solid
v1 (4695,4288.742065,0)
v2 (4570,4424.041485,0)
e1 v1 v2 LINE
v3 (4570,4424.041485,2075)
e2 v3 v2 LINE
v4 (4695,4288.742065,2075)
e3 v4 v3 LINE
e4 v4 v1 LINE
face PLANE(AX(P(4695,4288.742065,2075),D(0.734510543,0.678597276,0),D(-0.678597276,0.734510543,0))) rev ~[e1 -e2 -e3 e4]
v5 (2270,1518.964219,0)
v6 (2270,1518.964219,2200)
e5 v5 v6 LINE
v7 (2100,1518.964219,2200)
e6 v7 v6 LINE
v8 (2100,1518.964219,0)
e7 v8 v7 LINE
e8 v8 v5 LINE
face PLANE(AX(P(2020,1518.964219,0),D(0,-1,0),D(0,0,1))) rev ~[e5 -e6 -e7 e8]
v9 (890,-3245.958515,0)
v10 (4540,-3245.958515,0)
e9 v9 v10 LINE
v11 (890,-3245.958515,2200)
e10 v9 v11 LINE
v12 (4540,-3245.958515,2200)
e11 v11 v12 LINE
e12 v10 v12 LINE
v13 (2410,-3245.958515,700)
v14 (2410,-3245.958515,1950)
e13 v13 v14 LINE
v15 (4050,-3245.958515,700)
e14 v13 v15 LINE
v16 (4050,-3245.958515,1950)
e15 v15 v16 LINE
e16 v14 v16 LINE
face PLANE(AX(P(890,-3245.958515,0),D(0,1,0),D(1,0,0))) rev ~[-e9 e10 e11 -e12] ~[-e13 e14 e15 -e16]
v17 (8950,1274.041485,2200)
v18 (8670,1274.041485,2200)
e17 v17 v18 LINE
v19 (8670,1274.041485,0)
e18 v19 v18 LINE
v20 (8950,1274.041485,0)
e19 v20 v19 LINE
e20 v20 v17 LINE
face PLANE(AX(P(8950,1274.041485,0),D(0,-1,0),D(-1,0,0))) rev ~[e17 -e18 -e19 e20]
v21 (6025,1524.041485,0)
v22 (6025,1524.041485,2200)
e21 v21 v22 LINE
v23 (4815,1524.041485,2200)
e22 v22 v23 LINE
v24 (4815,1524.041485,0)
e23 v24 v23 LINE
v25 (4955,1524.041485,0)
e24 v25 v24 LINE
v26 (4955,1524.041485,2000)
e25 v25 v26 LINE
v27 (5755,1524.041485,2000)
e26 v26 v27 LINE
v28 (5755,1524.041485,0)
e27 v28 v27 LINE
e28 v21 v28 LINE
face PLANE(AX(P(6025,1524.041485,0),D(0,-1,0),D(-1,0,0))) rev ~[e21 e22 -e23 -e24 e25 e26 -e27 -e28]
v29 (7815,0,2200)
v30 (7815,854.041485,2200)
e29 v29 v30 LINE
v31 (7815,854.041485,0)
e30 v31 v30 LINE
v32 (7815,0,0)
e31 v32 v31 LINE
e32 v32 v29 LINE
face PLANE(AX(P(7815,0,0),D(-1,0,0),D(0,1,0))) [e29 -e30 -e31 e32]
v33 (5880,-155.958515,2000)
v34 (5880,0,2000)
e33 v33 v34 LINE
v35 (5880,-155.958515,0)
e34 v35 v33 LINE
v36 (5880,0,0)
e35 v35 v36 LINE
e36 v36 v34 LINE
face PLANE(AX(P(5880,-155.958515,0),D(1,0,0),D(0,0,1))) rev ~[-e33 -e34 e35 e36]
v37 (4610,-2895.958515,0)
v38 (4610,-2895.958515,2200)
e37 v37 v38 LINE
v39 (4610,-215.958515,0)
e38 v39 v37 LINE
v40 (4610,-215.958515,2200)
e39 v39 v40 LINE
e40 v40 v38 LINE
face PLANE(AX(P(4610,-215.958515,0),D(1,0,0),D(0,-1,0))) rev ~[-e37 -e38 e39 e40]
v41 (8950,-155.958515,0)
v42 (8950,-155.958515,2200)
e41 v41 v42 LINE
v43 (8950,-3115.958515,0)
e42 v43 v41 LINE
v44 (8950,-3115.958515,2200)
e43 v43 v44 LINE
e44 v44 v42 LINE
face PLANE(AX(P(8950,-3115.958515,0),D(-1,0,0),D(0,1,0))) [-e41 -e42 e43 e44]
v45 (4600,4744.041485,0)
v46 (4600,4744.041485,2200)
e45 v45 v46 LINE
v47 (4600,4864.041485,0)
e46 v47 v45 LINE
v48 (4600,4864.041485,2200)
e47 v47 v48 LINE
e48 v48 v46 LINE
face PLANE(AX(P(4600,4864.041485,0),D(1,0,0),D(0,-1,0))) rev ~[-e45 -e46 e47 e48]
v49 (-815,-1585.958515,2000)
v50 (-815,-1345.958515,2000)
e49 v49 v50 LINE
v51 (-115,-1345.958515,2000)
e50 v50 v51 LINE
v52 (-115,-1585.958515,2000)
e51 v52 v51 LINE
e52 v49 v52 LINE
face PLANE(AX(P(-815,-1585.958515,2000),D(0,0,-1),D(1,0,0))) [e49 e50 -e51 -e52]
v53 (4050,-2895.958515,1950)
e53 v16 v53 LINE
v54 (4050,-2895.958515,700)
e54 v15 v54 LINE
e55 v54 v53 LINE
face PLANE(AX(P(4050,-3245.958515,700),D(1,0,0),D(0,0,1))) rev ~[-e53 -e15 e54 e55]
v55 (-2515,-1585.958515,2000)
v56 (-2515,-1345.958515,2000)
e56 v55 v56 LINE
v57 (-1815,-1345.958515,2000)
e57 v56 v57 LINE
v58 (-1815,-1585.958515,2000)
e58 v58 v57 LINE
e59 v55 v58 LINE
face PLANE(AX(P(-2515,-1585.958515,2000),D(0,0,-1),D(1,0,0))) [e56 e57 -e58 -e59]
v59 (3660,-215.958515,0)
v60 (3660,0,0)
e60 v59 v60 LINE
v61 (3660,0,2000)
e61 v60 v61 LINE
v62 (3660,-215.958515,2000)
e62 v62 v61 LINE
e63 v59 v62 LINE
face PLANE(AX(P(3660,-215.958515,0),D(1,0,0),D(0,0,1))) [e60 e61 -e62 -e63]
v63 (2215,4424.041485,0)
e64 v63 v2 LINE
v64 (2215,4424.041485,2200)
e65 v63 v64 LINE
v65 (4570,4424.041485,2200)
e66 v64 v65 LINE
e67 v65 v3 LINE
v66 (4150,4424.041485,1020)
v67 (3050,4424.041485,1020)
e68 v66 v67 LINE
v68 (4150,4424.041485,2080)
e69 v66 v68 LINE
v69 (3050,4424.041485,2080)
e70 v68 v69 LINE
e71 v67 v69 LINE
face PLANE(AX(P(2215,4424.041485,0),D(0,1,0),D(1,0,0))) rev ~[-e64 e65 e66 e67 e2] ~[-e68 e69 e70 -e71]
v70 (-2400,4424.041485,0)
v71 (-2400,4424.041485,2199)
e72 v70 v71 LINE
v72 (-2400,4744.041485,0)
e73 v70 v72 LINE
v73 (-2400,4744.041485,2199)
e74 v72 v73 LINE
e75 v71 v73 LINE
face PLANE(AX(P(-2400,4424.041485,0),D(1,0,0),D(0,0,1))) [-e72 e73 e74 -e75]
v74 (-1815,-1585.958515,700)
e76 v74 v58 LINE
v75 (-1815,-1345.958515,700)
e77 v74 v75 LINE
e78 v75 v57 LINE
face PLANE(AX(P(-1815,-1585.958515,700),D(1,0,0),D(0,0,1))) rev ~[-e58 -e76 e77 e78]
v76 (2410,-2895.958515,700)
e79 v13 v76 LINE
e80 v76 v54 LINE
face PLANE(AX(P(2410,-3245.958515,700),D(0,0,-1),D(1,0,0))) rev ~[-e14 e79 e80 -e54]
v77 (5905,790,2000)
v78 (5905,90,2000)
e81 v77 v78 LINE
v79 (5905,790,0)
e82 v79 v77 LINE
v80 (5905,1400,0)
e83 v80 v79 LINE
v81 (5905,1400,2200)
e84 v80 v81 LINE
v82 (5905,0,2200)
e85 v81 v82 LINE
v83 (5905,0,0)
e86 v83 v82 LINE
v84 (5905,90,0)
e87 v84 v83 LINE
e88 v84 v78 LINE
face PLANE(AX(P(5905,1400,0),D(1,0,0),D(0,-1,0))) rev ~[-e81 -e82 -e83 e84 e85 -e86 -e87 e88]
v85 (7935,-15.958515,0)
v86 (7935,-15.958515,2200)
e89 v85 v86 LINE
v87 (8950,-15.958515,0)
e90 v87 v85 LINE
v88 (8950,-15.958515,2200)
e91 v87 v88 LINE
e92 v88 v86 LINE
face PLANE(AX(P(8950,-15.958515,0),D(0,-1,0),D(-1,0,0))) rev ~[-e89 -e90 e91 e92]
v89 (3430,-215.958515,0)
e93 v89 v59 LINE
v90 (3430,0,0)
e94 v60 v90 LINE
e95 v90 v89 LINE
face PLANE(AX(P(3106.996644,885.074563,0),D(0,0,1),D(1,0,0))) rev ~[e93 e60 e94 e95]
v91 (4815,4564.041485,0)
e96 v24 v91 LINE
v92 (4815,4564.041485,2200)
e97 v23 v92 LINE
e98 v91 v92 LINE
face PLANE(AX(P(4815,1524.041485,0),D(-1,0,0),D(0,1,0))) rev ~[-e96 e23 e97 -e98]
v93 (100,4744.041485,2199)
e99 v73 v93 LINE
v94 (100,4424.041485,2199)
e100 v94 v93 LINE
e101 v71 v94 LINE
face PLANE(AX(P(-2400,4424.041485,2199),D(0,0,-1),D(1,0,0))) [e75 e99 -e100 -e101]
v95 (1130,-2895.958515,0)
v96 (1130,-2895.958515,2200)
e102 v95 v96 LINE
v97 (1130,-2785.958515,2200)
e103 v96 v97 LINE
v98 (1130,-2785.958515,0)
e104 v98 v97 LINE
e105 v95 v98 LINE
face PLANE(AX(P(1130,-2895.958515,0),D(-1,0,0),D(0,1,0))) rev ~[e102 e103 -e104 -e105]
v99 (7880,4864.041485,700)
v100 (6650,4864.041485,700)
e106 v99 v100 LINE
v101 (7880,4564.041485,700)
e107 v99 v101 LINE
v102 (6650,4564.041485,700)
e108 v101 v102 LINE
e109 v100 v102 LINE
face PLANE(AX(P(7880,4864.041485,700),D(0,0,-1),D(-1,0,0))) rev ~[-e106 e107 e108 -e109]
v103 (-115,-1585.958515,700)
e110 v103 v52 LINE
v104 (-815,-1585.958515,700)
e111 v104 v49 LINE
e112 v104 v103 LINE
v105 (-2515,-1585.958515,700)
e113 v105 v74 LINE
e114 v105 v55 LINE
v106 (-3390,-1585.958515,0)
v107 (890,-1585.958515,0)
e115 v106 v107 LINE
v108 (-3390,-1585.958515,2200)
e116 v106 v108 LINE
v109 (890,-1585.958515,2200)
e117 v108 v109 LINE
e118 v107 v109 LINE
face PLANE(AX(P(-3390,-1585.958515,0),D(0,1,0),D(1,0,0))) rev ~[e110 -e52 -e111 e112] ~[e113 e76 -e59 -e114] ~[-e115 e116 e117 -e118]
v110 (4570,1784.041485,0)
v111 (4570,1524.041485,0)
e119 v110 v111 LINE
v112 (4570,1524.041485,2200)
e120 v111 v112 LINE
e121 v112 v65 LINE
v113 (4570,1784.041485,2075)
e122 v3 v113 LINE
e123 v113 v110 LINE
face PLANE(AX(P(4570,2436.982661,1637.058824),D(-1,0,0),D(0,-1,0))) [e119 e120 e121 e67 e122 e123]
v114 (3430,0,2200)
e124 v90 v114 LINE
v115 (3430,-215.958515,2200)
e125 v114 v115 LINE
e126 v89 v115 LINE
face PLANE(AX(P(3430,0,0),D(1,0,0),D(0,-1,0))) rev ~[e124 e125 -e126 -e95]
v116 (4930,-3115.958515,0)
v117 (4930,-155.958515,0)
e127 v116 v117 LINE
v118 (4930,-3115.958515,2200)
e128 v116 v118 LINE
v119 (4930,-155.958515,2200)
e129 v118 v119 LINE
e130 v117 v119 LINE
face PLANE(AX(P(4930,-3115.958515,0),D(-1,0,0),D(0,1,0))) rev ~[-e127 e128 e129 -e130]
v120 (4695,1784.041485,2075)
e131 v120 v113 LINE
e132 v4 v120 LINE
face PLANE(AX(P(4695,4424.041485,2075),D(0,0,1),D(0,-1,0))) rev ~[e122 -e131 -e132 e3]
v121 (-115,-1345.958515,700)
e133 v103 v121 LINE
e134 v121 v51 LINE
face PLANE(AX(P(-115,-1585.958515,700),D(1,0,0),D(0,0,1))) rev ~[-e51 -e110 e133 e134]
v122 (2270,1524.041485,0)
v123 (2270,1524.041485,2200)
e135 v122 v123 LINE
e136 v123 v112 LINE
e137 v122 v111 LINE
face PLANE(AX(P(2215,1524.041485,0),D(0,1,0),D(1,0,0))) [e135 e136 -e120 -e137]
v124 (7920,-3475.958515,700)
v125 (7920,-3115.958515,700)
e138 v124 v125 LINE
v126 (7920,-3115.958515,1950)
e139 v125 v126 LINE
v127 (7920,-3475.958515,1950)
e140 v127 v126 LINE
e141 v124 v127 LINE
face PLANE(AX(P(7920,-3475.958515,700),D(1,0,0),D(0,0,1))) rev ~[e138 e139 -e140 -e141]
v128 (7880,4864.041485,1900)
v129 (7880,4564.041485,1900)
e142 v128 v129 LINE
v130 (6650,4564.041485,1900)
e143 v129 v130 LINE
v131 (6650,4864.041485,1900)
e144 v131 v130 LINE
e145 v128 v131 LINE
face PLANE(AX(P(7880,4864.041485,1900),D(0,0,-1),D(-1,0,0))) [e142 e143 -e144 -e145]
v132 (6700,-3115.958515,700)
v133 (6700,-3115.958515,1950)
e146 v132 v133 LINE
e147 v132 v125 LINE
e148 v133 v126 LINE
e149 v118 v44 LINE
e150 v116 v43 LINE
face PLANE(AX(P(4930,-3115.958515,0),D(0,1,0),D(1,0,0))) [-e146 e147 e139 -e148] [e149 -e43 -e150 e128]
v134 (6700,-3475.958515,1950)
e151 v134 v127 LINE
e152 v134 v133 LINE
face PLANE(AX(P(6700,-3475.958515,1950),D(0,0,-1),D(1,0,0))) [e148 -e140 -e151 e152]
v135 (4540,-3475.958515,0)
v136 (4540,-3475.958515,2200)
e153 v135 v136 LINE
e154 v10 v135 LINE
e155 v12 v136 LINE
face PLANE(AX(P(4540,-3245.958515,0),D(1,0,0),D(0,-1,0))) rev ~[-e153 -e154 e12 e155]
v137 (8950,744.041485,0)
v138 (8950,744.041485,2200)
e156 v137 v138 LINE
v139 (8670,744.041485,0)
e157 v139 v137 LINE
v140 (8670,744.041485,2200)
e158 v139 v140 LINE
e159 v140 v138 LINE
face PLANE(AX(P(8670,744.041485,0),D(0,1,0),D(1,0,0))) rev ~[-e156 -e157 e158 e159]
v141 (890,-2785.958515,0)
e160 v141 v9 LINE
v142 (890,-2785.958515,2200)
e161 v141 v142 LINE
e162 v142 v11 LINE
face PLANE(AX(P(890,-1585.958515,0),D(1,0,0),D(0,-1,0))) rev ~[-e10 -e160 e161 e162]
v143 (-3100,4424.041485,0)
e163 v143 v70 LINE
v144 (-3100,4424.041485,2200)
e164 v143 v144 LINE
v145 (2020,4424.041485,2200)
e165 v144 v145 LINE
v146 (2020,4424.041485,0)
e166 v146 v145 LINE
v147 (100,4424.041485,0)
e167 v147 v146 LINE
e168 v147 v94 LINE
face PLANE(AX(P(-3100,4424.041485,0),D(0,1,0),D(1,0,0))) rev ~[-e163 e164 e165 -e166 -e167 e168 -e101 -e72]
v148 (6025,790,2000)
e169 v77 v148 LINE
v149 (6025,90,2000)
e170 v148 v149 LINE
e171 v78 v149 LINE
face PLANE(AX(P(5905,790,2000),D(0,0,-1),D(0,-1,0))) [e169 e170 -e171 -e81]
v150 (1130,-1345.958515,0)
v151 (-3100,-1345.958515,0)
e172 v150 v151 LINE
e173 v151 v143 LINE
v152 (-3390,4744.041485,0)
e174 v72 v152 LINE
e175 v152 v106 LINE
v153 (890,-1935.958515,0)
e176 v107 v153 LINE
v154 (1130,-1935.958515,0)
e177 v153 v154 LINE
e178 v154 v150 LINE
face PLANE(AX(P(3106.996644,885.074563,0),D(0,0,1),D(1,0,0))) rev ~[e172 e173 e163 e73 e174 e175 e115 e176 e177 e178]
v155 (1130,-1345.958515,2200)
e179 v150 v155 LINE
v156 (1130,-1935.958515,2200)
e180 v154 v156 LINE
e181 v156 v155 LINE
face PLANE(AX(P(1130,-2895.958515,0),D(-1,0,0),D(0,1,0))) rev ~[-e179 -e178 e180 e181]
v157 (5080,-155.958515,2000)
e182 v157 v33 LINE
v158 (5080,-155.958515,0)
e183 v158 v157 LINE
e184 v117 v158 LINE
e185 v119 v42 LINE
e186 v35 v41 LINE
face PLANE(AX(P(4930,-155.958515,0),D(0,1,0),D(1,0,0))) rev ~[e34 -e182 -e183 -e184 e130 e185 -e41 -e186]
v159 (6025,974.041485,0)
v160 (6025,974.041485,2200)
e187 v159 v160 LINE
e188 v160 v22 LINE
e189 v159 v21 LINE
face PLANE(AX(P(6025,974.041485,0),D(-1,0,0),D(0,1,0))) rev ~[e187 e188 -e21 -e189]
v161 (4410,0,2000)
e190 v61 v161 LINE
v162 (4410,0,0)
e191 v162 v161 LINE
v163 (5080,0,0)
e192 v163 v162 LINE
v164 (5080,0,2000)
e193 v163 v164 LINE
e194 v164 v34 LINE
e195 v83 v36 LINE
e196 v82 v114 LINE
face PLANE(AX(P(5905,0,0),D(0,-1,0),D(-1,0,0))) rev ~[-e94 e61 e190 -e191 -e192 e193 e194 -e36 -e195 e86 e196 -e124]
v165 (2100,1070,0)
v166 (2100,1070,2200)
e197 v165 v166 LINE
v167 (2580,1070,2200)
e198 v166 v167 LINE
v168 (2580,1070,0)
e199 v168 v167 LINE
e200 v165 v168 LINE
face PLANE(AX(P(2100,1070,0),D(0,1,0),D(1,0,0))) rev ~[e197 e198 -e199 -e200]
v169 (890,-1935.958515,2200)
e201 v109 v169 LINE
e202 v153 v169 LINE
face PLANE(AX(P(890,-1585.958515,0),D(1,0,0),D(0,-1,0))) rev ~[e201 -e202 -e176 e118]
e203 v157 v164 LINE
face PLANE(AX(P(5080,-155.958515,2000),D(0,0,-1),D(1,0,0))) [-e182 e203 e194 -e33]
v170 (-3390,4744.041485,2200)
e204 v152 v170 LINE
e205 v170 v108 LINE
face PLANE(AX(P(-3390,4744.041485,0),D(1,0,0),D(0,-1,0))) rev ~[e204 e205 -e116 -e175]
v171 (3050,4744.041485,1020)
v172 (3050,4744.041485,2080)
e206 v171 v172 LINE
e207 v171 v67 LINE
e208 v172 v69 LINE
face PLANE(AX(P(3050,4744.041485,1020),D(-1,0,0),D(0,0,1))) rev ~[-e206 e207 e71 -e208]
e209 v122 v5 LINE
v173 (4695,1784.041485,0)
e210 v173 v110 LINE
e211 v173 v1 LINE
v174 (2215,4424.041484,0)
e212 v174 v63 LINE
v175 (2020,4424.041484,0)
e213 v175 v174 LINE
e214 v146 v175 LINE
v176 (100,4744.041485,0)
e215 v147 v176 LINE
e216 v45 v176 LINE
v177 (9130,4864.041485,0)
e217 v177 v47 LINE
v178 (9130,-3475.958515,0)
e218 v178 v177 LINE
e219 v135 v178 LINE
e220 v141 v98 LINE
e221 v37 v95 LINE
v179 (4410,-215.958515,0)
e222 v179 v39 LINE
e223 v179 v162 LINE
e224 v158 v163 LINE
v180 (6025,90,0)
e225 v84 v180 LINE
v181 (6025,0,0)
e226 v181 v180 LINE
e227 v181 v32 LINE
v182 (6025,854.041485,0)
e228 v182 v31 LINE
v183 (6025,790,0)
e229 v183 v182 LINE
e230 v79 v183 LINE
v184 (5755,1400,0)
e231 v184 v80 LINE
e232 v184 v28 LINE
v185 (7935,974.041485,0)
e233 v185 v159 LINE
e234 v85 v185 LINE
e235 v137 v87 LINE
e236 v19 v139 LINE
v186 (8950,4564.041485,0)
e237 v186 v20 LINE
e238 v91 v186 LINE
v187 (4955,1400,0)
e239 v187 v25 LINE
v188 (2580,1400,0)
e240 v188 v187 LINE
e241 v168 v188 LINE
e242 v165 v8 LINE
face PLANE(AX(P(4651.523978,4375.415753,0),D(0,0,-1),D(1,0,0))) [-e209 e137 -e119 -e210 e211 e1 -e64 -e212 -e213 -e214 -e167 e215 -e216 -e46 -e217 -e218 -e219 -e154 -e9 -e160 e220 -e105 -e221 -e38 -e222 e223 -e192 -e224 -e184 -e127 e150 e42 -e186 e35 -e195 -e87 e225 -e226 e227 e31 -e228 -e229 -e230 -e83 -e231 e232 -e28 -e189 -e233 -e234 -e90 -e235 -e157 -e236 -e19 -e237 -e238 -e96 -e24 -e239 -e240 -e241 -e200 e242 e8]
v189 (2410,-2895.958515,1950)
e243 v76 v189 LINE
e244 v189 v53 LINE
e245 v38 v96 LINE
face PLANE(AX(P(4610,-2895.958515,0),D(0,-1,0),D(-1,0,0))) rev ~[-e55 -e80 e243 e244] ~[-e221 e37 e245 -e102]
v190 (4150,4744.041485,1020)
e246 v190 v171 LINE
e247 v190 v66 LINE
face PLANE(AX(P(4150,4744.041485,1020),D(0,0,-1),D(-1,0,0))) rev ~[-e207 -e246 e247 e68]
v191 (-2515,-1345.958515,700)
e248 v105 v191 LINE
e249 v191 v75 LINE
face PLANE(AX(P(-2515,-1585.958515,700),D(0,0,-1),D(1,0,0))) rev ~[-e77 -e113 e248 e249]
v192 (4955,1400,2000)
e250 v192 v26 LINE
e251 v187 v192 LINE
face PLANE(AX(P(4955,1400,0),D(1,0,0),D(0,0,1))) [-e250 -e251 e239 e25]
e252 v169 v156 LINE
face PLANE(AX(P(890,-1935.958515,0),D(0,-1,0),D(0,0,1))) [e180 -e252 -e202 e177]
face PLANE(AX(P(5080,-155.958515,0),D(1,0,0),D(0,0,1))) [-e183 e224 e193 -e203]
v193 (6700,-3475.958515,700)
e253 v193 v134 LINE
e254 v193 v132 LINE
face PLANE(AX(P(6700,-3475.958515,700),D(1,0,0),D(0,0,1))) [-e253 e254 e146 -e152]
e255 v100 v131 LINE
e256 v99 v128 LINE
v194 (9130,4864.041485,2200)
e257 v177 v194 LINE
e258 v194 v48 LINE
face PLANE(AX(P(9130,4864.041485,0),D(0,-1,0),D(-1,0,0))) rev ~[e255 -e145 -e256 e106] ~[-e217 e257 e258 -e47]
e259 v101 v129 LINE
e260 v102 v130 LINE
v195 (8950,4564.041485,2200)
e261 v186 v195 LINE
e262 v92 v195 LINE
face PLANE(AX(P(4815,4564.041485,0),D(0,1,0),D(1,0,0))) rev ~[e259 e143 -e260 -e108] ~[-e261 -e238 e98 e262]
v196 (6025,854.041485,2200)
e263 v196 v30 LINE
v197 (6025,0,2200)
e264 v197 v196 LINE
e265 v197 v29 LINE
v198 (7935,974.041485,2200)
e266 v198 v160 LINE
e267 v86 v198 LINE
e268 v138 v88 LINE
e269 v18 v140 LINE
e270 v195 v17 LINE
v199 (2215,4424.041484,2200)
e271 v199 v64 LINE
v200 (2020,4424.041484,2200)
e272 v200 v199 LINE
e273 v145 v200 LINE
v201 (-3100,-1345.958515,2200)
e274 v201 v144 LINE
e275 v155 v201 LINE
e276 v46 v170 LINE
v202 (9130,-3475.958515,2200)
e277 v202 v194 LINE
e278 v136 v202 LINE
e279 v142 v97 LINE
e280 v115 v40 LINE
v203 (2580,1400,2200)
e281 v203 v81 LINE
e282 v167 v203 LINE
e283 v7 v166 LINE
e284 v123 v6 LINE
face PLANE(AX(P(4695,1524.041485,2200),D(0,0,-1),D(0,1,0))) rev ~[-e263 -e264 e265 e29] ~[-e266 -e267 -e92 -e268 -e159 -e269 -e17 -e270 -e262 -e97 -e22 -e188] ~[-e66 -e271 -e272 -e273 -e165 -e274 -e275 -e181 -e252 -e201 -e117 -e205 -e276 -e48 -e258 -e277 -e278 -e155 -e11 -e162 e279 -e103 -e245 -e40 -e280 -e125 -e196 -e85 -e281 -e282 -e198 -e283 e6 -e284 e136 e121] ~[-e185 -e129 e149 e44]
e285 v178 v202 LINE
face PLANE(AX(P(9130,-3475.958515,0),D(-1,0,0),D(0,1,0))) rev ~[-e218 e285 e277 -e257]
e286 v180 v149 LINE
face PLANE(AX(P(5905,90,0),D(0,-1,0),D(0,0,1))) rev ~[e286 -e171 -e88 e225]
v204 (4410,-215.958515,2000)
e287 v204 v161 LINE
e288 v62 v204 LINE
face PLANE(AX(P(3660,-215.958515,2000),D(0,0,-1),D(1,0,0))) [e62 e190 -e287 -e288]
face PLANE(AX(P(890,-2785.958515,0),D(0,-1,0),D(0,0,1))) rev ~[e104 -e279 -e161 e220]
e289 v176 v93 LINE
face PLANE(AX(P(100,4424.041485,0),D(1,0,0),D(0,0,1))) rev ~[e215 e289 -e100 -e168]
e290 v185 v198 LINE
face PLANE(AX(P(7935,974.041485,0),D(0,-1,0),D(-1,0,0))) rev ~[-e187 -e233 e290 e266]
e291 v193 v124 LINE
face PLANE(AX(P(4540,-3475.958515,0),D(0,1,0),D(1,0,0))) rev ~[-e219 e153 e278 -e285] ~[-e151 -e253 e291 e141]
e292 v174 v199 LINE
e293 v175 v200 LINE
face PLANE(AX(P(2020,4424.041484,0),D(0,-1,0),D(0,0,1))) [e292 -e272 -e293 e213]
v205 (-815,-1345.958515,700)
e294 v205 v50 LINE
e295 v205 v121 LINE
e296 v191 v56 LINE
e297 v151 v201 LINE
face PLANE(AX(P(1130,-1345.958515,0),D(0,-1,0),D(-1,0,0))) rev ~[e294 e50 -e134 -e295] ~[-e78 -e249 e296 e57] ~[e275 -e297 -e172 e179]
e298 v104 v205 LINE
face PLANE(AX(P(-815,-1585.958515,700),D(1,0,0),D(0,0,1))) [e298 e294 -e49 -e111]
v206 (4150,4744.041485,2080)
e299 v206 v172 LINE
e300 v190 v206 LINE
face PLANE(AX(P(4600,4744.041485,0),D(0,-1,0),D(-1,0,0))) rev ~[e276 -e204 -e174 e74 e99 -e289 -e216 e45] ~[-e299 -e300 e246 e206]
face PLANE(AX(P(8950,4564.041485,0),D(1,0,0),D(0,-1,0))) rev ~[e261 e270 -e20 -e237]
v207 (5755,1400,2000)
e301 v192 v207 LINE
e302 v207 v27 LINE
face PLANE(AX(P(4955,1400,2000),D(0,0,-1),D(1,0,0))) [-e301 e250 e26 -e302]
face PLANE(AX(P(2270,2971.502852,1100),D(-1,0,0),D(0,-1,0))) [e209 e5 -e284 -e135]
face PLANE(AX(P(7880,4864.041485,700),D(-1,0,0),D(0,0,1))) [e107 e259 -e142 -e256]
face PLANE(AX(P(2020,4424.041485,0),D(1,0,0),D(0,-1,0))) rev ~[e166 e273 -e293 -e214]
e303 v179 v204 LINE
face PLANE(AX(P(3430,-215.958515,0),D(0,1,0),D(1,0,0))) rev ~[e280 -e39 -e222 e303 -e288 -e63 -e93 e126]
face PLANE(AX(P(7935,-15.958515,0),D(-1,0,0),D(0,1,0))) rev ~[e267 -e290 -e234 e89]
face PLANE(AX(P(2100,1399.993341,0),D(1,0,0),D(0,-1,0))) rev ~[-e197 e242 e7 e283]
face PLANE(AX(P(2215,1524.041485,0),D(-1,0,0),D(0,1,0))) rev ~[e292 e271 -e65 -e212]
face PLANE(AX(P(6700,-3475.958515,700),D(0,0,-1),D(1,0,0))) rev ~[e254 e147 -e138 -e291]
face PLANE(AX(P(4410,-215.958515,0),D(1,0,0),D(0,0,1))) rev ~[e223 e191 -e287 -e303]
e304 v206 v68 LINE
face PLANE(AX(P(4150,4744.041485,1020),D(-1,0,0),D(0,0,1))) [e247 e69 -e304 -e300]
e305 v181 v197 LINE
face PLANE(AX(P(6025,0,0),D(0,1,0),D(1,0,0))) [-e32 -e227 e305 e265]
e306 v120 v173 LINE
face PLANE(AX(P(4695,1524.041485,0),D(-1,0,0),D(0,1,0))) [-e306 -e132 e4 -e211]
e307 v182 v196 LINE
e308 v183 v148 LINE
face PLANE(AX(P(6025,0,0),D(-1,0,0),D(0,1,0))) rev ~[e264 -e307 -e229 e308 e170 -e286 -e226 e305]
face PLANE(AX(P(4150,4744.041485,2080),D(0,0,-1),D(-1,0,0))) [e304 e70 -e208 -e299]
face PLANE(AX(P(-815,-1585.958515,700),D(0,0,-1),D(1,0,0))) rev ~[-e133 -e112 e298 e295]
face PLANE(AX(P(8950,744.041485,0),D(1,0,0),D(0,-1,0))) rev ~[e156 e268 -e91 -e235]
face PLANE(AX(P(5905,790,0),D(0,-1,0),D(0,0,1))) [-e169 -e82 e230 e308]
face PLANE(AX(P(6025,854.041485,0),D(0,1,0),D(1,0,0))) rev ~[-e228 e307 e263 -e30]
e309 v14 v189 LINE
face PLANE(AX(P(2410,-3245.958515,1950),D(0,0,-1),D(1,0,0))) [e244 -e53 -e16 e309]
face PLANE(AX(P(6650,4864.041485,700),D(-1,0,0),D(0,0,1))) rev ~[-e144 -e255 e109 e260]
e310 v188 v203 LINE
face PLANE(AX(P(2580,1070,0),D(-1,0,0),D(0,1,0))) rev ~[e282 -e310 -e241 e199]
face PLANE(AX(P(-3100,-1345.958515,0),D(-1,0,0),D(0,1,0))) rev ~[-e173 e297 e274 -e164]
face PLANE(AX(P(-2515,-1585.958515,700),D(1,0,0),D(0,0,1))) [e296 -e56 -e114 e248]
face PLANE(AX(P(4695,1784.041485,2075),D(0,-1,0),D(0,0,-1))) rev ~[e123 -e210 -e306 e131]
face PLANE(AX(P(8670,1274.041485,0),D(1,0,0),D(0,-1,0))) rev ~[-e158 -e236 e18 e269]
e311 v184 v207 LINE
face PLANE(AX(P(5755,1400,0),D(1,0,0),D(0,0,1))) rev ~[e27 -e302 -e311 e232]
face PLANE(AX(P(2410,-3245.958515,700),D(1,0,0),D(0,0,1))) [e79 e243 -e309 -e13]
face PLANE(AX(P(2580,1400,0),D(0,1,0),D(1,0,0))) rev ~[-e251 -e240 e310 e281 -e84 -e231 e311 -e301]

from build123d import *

# Parameters (mm, degrees)
F0_W      = 4020
F0_H      = 2960
F0_W_2    = 1790
F0_H_2    = 854.041485
F0_W_3    = 2480
F0_H_3    = 2900
F1_DEPTH  = 2200
F2_W      = 2500
F2_H      = 2199
F3_DEPTH  = 350
F4_W      = 2905.077265
F4_H      = 2200
F5_DEPTH  = 250
F6_W      = 990
F6_H      = 2200
F7_DEPTH  = 130
F8_W      = 750
F8_H      = 2000
F9_DEPTH  = 250
F10_W     = 800
F10_H     = 2000
F11_DEPTH = 200
F12_W     = 800
F12_H     = 2000
F13_DEPTH = 200
F14_W     = 700
F14_H     = 1300
F15_DEPTH = 240
F16_W     = 1640
F16_H     = 1250
F17_DEPTH = 350
F18_W     = 1220
F18_H     = 1250
F19_DEPTH = 360
F20_W     = 1230
F20_H     = 1200
F21_DEPTH = 300
F22_W     = 1100
F22_H     = 1060
F23_DEPTH = 320
F24_W     = 850
F24_H     = 2200
F25_DEPTH = 240
F26_W     = 700
F26_H     = 2000
F27_DEPTH = 120
F29_DEPTH = 125
F31_DEPTH = 2075


with BuildPart() as f1:
    # F0 (on Top) → F1 (new body)
    with BuildSketch(Plane.XY):
        Polygon((-3390, -1585.958515), (890, -1585.958515), (890, -3245.958515), (4540, -3245.958515), (4540, -3475.958515), (9130, -3475.958515), (9130, 4864.041485), (4600, 4864.041485), (4600, 4744.041485), (-3390, 4744.041485), align=None)
        with Locations((6940, -1635.958515)):
            Rectangle(F0_W, F0_H, mode=Mode.SUBTRACT)
        with Locations((6920, 427.020742)):
            Rectangle(F0_W_2, F0_H_2, mode=Mode.SUBTRACT)
        Polygon((4610, -215.958515), (4610, -2895.958515), (1130, -2895.958515), (1130, -1345.958515), (-3100, -1345.958515), (-3100, 4424.041485), (2020, 4424.041485), (2020, 1518.96422), (1110, 1518.96422), (1110, 1399.993341), (2100, 1399.993341), (2100, 1070), (2580, 1070), (2580, 1400), (5905, 1400), (5905, 0), (3430, 0), (3430, -215.958515), align=None, mode=Mode.SUBTRACT)
        Polygon((4815, 1524.041485), (4815, 4564.041485), (8950, 4564.041485), (8950, 1274.041485), (8670, 1274.041485), (8670, 744.041485), (8950, 744.041485), (8950, -15.958515), (7935, -15.958515), (7935, 974.041485), (6025, 974.041485), (6025, 1524.041485), align=None, mode=Mode.SUBTRACT)
        with Locations((3455, 2974.041485)):
            Rectangle(F0_W_3, F0_H_3, mode=Mode.SUBTRACT)
    extrude(amount=F1_DEPTH)

    # F2 (on face) → F3 (cut)
    with BuildSketch(Plane.XZ.offset(-4424.041485)):
        with Locations((-1150, 1099.5)):
            Rectangle(F2_W, F2_H)
    extrude(amount=-F3_DEPTH, mode=Mode.SUBTRACT)

    # F4 (on face) → F5 (cut)
    with BuildSketch(Plane(origin=(2020, 0, 0), x_dir=(0, -1, 0), z_dir=(-1, 0, 0))):
        with Locations((-2971.502852, 1100)):
            Rectangle(F4_W, F4_H)
    extrude(amount=-F5_DEPTH, mode=Mode.SUBTRACT)

    # F6 (on face) → F7 (cut)
    with BuildSketch(Plane.XZ.offset(-1399.993341)):
        with Locations((1605, 1100)):
            Rectangle(F6_W, F6_H)
    extrude(amount=-F7_DEPTH, mode=Mode.SUBTRACT)

    # F8 (on face) → F9 (cut)
    with BuildSketch(Plane.XZ.offset(215.958515)):
        with Locations((4035, 1000)):
            Rectangle(F8_W, F8_H)
    extrude(amount=-F9_DEPTH, mode=Mode.SUBTRACT)

    # F10 (on face) → F11 (cut)
    with BuildSketch(Plane.XZ.offset(-1400)):
        with Locations((5355, 1000)):
            Rectangle(F10_W, F10_H)
    extrude(amount=-F11_DEPTH, mode=Mode.SUBTRACT)

    # F12 (on face) → F13 (cut)
    with BuildSketch(Plane.XZ.offset(155.958515)):
        with Locations((5480, 1000)):
            Rectangle(F12_W, F12_H)
    extrude(amount=-F13_DEPTH, mode=Mode.SUBTRACT)

    # F14 (on face) → F15 (cut, through all)
    with BuildSketch(Plane.XZ.offset(1585.958515)):
        with Locations((-2165, 1350)):
            Rectangle(F14_W, F14_H)
        with Locations((-465, 1350)):
            Rectangle(F14_W, F14_H)
    extrude(amount=-F15_DEPTH, mode=Mode.SUBTRACT)

    # F16 (on face) → F17 (cut, through all)
    with BuildSketch(Plane.XZ.offset(3245.958515)):
        with Locations((3230, 1325)):
            Rectangle(F16_W, F16_H)
    extrude(amount=-F17_DEPTH, mode=Mode.SUBTRACT)

    # F18 (on face) → F19 (cut, through all)
    with BuildSketch(Plane.XZ.offset(3475.958515)):
        with Locations((7310, 1325)):
            Rectangle(F18_W, F18_H)
    extrude(amount=-F19_DEPTH, mode=Mode.SUBTRACT)

    # F20 (on face) → F21 (cut, through all)
    with BuildSketch(Plane(origin=(0, 4864.041485, 0), x_dir=(-1, 0, 0), z_dir=(0, 1, 0))):
        with Locations((-7265, 1300)):
            Rectangle(F20_W, F20_H)
    extrude(amount=-F21_DEPTH, mode=Mode.SUBTRACT)

    # F22 (on face) → F23 (cut, through all)
    with BuildSketch(Plane(origin=(0, 4744.041485, 0), x_dir=(-1, 0, 0), z_dir=(0, 1, 0))):
        with Locations((-3600, 1550)):
            Rectangle(F22_W, F22_H)
    extrude(amount=-F23_DEPTH, mode=Mode.SUBTRACT)

    # F24 (on face) → F25 (cut, through all)
    with BuildSketch(Plane(origin=(890, 0, 0), x_dir=(0, -1, 0), z_dir=(-1, 0, 0))):
        with Locations((2360.958515, 1100)):
            Rectangle(F24_W, F24_H)
    extrude(amount=-F25_DEPTH, mode=Mode.SUBTRACT)

    # F26 (on face) → F27 (cut, through all)
    with BuildSketch(Plane(origin=(5905, 0, 0), x_dir=(0, -1, 0), z_dir=(-1, 0, 0))):
        with Locations((-440, 1000)):
            Rectangle(F26_W, F26_H)
    extrude(amount=-F27_DEPTH, mode=Mode.SUBTRACT)

    # F28 (on face) → F29 (join)
    with BuildSketch(Plane(origin=(4695, 0, 0), x_dir=(0, -1, 0), z_dir=(-1, 0, 0))):
        Polygon((-1784.041485, 2075), (-1784.041485, 0), (-1524.041485, 0), (-1524.041485, 2200), (-4424.041485, 2200), (-4424.041485, 2075), align=None)
    extrude(amount=F29_DEPTH)

    # F30 (on face) → F31 (join)
    with BuildSketch(Plane(origin=(0, 0, 2075), x_dir=(1, 0, 0), z_dir=(0, 0, -1))):
        Polygon((4695, -4288.742065), (4570, -4424.041485), (4695, -4424.041485), align=None)
    extrude(amount=F31_DEPTH)


solid = f1.part
